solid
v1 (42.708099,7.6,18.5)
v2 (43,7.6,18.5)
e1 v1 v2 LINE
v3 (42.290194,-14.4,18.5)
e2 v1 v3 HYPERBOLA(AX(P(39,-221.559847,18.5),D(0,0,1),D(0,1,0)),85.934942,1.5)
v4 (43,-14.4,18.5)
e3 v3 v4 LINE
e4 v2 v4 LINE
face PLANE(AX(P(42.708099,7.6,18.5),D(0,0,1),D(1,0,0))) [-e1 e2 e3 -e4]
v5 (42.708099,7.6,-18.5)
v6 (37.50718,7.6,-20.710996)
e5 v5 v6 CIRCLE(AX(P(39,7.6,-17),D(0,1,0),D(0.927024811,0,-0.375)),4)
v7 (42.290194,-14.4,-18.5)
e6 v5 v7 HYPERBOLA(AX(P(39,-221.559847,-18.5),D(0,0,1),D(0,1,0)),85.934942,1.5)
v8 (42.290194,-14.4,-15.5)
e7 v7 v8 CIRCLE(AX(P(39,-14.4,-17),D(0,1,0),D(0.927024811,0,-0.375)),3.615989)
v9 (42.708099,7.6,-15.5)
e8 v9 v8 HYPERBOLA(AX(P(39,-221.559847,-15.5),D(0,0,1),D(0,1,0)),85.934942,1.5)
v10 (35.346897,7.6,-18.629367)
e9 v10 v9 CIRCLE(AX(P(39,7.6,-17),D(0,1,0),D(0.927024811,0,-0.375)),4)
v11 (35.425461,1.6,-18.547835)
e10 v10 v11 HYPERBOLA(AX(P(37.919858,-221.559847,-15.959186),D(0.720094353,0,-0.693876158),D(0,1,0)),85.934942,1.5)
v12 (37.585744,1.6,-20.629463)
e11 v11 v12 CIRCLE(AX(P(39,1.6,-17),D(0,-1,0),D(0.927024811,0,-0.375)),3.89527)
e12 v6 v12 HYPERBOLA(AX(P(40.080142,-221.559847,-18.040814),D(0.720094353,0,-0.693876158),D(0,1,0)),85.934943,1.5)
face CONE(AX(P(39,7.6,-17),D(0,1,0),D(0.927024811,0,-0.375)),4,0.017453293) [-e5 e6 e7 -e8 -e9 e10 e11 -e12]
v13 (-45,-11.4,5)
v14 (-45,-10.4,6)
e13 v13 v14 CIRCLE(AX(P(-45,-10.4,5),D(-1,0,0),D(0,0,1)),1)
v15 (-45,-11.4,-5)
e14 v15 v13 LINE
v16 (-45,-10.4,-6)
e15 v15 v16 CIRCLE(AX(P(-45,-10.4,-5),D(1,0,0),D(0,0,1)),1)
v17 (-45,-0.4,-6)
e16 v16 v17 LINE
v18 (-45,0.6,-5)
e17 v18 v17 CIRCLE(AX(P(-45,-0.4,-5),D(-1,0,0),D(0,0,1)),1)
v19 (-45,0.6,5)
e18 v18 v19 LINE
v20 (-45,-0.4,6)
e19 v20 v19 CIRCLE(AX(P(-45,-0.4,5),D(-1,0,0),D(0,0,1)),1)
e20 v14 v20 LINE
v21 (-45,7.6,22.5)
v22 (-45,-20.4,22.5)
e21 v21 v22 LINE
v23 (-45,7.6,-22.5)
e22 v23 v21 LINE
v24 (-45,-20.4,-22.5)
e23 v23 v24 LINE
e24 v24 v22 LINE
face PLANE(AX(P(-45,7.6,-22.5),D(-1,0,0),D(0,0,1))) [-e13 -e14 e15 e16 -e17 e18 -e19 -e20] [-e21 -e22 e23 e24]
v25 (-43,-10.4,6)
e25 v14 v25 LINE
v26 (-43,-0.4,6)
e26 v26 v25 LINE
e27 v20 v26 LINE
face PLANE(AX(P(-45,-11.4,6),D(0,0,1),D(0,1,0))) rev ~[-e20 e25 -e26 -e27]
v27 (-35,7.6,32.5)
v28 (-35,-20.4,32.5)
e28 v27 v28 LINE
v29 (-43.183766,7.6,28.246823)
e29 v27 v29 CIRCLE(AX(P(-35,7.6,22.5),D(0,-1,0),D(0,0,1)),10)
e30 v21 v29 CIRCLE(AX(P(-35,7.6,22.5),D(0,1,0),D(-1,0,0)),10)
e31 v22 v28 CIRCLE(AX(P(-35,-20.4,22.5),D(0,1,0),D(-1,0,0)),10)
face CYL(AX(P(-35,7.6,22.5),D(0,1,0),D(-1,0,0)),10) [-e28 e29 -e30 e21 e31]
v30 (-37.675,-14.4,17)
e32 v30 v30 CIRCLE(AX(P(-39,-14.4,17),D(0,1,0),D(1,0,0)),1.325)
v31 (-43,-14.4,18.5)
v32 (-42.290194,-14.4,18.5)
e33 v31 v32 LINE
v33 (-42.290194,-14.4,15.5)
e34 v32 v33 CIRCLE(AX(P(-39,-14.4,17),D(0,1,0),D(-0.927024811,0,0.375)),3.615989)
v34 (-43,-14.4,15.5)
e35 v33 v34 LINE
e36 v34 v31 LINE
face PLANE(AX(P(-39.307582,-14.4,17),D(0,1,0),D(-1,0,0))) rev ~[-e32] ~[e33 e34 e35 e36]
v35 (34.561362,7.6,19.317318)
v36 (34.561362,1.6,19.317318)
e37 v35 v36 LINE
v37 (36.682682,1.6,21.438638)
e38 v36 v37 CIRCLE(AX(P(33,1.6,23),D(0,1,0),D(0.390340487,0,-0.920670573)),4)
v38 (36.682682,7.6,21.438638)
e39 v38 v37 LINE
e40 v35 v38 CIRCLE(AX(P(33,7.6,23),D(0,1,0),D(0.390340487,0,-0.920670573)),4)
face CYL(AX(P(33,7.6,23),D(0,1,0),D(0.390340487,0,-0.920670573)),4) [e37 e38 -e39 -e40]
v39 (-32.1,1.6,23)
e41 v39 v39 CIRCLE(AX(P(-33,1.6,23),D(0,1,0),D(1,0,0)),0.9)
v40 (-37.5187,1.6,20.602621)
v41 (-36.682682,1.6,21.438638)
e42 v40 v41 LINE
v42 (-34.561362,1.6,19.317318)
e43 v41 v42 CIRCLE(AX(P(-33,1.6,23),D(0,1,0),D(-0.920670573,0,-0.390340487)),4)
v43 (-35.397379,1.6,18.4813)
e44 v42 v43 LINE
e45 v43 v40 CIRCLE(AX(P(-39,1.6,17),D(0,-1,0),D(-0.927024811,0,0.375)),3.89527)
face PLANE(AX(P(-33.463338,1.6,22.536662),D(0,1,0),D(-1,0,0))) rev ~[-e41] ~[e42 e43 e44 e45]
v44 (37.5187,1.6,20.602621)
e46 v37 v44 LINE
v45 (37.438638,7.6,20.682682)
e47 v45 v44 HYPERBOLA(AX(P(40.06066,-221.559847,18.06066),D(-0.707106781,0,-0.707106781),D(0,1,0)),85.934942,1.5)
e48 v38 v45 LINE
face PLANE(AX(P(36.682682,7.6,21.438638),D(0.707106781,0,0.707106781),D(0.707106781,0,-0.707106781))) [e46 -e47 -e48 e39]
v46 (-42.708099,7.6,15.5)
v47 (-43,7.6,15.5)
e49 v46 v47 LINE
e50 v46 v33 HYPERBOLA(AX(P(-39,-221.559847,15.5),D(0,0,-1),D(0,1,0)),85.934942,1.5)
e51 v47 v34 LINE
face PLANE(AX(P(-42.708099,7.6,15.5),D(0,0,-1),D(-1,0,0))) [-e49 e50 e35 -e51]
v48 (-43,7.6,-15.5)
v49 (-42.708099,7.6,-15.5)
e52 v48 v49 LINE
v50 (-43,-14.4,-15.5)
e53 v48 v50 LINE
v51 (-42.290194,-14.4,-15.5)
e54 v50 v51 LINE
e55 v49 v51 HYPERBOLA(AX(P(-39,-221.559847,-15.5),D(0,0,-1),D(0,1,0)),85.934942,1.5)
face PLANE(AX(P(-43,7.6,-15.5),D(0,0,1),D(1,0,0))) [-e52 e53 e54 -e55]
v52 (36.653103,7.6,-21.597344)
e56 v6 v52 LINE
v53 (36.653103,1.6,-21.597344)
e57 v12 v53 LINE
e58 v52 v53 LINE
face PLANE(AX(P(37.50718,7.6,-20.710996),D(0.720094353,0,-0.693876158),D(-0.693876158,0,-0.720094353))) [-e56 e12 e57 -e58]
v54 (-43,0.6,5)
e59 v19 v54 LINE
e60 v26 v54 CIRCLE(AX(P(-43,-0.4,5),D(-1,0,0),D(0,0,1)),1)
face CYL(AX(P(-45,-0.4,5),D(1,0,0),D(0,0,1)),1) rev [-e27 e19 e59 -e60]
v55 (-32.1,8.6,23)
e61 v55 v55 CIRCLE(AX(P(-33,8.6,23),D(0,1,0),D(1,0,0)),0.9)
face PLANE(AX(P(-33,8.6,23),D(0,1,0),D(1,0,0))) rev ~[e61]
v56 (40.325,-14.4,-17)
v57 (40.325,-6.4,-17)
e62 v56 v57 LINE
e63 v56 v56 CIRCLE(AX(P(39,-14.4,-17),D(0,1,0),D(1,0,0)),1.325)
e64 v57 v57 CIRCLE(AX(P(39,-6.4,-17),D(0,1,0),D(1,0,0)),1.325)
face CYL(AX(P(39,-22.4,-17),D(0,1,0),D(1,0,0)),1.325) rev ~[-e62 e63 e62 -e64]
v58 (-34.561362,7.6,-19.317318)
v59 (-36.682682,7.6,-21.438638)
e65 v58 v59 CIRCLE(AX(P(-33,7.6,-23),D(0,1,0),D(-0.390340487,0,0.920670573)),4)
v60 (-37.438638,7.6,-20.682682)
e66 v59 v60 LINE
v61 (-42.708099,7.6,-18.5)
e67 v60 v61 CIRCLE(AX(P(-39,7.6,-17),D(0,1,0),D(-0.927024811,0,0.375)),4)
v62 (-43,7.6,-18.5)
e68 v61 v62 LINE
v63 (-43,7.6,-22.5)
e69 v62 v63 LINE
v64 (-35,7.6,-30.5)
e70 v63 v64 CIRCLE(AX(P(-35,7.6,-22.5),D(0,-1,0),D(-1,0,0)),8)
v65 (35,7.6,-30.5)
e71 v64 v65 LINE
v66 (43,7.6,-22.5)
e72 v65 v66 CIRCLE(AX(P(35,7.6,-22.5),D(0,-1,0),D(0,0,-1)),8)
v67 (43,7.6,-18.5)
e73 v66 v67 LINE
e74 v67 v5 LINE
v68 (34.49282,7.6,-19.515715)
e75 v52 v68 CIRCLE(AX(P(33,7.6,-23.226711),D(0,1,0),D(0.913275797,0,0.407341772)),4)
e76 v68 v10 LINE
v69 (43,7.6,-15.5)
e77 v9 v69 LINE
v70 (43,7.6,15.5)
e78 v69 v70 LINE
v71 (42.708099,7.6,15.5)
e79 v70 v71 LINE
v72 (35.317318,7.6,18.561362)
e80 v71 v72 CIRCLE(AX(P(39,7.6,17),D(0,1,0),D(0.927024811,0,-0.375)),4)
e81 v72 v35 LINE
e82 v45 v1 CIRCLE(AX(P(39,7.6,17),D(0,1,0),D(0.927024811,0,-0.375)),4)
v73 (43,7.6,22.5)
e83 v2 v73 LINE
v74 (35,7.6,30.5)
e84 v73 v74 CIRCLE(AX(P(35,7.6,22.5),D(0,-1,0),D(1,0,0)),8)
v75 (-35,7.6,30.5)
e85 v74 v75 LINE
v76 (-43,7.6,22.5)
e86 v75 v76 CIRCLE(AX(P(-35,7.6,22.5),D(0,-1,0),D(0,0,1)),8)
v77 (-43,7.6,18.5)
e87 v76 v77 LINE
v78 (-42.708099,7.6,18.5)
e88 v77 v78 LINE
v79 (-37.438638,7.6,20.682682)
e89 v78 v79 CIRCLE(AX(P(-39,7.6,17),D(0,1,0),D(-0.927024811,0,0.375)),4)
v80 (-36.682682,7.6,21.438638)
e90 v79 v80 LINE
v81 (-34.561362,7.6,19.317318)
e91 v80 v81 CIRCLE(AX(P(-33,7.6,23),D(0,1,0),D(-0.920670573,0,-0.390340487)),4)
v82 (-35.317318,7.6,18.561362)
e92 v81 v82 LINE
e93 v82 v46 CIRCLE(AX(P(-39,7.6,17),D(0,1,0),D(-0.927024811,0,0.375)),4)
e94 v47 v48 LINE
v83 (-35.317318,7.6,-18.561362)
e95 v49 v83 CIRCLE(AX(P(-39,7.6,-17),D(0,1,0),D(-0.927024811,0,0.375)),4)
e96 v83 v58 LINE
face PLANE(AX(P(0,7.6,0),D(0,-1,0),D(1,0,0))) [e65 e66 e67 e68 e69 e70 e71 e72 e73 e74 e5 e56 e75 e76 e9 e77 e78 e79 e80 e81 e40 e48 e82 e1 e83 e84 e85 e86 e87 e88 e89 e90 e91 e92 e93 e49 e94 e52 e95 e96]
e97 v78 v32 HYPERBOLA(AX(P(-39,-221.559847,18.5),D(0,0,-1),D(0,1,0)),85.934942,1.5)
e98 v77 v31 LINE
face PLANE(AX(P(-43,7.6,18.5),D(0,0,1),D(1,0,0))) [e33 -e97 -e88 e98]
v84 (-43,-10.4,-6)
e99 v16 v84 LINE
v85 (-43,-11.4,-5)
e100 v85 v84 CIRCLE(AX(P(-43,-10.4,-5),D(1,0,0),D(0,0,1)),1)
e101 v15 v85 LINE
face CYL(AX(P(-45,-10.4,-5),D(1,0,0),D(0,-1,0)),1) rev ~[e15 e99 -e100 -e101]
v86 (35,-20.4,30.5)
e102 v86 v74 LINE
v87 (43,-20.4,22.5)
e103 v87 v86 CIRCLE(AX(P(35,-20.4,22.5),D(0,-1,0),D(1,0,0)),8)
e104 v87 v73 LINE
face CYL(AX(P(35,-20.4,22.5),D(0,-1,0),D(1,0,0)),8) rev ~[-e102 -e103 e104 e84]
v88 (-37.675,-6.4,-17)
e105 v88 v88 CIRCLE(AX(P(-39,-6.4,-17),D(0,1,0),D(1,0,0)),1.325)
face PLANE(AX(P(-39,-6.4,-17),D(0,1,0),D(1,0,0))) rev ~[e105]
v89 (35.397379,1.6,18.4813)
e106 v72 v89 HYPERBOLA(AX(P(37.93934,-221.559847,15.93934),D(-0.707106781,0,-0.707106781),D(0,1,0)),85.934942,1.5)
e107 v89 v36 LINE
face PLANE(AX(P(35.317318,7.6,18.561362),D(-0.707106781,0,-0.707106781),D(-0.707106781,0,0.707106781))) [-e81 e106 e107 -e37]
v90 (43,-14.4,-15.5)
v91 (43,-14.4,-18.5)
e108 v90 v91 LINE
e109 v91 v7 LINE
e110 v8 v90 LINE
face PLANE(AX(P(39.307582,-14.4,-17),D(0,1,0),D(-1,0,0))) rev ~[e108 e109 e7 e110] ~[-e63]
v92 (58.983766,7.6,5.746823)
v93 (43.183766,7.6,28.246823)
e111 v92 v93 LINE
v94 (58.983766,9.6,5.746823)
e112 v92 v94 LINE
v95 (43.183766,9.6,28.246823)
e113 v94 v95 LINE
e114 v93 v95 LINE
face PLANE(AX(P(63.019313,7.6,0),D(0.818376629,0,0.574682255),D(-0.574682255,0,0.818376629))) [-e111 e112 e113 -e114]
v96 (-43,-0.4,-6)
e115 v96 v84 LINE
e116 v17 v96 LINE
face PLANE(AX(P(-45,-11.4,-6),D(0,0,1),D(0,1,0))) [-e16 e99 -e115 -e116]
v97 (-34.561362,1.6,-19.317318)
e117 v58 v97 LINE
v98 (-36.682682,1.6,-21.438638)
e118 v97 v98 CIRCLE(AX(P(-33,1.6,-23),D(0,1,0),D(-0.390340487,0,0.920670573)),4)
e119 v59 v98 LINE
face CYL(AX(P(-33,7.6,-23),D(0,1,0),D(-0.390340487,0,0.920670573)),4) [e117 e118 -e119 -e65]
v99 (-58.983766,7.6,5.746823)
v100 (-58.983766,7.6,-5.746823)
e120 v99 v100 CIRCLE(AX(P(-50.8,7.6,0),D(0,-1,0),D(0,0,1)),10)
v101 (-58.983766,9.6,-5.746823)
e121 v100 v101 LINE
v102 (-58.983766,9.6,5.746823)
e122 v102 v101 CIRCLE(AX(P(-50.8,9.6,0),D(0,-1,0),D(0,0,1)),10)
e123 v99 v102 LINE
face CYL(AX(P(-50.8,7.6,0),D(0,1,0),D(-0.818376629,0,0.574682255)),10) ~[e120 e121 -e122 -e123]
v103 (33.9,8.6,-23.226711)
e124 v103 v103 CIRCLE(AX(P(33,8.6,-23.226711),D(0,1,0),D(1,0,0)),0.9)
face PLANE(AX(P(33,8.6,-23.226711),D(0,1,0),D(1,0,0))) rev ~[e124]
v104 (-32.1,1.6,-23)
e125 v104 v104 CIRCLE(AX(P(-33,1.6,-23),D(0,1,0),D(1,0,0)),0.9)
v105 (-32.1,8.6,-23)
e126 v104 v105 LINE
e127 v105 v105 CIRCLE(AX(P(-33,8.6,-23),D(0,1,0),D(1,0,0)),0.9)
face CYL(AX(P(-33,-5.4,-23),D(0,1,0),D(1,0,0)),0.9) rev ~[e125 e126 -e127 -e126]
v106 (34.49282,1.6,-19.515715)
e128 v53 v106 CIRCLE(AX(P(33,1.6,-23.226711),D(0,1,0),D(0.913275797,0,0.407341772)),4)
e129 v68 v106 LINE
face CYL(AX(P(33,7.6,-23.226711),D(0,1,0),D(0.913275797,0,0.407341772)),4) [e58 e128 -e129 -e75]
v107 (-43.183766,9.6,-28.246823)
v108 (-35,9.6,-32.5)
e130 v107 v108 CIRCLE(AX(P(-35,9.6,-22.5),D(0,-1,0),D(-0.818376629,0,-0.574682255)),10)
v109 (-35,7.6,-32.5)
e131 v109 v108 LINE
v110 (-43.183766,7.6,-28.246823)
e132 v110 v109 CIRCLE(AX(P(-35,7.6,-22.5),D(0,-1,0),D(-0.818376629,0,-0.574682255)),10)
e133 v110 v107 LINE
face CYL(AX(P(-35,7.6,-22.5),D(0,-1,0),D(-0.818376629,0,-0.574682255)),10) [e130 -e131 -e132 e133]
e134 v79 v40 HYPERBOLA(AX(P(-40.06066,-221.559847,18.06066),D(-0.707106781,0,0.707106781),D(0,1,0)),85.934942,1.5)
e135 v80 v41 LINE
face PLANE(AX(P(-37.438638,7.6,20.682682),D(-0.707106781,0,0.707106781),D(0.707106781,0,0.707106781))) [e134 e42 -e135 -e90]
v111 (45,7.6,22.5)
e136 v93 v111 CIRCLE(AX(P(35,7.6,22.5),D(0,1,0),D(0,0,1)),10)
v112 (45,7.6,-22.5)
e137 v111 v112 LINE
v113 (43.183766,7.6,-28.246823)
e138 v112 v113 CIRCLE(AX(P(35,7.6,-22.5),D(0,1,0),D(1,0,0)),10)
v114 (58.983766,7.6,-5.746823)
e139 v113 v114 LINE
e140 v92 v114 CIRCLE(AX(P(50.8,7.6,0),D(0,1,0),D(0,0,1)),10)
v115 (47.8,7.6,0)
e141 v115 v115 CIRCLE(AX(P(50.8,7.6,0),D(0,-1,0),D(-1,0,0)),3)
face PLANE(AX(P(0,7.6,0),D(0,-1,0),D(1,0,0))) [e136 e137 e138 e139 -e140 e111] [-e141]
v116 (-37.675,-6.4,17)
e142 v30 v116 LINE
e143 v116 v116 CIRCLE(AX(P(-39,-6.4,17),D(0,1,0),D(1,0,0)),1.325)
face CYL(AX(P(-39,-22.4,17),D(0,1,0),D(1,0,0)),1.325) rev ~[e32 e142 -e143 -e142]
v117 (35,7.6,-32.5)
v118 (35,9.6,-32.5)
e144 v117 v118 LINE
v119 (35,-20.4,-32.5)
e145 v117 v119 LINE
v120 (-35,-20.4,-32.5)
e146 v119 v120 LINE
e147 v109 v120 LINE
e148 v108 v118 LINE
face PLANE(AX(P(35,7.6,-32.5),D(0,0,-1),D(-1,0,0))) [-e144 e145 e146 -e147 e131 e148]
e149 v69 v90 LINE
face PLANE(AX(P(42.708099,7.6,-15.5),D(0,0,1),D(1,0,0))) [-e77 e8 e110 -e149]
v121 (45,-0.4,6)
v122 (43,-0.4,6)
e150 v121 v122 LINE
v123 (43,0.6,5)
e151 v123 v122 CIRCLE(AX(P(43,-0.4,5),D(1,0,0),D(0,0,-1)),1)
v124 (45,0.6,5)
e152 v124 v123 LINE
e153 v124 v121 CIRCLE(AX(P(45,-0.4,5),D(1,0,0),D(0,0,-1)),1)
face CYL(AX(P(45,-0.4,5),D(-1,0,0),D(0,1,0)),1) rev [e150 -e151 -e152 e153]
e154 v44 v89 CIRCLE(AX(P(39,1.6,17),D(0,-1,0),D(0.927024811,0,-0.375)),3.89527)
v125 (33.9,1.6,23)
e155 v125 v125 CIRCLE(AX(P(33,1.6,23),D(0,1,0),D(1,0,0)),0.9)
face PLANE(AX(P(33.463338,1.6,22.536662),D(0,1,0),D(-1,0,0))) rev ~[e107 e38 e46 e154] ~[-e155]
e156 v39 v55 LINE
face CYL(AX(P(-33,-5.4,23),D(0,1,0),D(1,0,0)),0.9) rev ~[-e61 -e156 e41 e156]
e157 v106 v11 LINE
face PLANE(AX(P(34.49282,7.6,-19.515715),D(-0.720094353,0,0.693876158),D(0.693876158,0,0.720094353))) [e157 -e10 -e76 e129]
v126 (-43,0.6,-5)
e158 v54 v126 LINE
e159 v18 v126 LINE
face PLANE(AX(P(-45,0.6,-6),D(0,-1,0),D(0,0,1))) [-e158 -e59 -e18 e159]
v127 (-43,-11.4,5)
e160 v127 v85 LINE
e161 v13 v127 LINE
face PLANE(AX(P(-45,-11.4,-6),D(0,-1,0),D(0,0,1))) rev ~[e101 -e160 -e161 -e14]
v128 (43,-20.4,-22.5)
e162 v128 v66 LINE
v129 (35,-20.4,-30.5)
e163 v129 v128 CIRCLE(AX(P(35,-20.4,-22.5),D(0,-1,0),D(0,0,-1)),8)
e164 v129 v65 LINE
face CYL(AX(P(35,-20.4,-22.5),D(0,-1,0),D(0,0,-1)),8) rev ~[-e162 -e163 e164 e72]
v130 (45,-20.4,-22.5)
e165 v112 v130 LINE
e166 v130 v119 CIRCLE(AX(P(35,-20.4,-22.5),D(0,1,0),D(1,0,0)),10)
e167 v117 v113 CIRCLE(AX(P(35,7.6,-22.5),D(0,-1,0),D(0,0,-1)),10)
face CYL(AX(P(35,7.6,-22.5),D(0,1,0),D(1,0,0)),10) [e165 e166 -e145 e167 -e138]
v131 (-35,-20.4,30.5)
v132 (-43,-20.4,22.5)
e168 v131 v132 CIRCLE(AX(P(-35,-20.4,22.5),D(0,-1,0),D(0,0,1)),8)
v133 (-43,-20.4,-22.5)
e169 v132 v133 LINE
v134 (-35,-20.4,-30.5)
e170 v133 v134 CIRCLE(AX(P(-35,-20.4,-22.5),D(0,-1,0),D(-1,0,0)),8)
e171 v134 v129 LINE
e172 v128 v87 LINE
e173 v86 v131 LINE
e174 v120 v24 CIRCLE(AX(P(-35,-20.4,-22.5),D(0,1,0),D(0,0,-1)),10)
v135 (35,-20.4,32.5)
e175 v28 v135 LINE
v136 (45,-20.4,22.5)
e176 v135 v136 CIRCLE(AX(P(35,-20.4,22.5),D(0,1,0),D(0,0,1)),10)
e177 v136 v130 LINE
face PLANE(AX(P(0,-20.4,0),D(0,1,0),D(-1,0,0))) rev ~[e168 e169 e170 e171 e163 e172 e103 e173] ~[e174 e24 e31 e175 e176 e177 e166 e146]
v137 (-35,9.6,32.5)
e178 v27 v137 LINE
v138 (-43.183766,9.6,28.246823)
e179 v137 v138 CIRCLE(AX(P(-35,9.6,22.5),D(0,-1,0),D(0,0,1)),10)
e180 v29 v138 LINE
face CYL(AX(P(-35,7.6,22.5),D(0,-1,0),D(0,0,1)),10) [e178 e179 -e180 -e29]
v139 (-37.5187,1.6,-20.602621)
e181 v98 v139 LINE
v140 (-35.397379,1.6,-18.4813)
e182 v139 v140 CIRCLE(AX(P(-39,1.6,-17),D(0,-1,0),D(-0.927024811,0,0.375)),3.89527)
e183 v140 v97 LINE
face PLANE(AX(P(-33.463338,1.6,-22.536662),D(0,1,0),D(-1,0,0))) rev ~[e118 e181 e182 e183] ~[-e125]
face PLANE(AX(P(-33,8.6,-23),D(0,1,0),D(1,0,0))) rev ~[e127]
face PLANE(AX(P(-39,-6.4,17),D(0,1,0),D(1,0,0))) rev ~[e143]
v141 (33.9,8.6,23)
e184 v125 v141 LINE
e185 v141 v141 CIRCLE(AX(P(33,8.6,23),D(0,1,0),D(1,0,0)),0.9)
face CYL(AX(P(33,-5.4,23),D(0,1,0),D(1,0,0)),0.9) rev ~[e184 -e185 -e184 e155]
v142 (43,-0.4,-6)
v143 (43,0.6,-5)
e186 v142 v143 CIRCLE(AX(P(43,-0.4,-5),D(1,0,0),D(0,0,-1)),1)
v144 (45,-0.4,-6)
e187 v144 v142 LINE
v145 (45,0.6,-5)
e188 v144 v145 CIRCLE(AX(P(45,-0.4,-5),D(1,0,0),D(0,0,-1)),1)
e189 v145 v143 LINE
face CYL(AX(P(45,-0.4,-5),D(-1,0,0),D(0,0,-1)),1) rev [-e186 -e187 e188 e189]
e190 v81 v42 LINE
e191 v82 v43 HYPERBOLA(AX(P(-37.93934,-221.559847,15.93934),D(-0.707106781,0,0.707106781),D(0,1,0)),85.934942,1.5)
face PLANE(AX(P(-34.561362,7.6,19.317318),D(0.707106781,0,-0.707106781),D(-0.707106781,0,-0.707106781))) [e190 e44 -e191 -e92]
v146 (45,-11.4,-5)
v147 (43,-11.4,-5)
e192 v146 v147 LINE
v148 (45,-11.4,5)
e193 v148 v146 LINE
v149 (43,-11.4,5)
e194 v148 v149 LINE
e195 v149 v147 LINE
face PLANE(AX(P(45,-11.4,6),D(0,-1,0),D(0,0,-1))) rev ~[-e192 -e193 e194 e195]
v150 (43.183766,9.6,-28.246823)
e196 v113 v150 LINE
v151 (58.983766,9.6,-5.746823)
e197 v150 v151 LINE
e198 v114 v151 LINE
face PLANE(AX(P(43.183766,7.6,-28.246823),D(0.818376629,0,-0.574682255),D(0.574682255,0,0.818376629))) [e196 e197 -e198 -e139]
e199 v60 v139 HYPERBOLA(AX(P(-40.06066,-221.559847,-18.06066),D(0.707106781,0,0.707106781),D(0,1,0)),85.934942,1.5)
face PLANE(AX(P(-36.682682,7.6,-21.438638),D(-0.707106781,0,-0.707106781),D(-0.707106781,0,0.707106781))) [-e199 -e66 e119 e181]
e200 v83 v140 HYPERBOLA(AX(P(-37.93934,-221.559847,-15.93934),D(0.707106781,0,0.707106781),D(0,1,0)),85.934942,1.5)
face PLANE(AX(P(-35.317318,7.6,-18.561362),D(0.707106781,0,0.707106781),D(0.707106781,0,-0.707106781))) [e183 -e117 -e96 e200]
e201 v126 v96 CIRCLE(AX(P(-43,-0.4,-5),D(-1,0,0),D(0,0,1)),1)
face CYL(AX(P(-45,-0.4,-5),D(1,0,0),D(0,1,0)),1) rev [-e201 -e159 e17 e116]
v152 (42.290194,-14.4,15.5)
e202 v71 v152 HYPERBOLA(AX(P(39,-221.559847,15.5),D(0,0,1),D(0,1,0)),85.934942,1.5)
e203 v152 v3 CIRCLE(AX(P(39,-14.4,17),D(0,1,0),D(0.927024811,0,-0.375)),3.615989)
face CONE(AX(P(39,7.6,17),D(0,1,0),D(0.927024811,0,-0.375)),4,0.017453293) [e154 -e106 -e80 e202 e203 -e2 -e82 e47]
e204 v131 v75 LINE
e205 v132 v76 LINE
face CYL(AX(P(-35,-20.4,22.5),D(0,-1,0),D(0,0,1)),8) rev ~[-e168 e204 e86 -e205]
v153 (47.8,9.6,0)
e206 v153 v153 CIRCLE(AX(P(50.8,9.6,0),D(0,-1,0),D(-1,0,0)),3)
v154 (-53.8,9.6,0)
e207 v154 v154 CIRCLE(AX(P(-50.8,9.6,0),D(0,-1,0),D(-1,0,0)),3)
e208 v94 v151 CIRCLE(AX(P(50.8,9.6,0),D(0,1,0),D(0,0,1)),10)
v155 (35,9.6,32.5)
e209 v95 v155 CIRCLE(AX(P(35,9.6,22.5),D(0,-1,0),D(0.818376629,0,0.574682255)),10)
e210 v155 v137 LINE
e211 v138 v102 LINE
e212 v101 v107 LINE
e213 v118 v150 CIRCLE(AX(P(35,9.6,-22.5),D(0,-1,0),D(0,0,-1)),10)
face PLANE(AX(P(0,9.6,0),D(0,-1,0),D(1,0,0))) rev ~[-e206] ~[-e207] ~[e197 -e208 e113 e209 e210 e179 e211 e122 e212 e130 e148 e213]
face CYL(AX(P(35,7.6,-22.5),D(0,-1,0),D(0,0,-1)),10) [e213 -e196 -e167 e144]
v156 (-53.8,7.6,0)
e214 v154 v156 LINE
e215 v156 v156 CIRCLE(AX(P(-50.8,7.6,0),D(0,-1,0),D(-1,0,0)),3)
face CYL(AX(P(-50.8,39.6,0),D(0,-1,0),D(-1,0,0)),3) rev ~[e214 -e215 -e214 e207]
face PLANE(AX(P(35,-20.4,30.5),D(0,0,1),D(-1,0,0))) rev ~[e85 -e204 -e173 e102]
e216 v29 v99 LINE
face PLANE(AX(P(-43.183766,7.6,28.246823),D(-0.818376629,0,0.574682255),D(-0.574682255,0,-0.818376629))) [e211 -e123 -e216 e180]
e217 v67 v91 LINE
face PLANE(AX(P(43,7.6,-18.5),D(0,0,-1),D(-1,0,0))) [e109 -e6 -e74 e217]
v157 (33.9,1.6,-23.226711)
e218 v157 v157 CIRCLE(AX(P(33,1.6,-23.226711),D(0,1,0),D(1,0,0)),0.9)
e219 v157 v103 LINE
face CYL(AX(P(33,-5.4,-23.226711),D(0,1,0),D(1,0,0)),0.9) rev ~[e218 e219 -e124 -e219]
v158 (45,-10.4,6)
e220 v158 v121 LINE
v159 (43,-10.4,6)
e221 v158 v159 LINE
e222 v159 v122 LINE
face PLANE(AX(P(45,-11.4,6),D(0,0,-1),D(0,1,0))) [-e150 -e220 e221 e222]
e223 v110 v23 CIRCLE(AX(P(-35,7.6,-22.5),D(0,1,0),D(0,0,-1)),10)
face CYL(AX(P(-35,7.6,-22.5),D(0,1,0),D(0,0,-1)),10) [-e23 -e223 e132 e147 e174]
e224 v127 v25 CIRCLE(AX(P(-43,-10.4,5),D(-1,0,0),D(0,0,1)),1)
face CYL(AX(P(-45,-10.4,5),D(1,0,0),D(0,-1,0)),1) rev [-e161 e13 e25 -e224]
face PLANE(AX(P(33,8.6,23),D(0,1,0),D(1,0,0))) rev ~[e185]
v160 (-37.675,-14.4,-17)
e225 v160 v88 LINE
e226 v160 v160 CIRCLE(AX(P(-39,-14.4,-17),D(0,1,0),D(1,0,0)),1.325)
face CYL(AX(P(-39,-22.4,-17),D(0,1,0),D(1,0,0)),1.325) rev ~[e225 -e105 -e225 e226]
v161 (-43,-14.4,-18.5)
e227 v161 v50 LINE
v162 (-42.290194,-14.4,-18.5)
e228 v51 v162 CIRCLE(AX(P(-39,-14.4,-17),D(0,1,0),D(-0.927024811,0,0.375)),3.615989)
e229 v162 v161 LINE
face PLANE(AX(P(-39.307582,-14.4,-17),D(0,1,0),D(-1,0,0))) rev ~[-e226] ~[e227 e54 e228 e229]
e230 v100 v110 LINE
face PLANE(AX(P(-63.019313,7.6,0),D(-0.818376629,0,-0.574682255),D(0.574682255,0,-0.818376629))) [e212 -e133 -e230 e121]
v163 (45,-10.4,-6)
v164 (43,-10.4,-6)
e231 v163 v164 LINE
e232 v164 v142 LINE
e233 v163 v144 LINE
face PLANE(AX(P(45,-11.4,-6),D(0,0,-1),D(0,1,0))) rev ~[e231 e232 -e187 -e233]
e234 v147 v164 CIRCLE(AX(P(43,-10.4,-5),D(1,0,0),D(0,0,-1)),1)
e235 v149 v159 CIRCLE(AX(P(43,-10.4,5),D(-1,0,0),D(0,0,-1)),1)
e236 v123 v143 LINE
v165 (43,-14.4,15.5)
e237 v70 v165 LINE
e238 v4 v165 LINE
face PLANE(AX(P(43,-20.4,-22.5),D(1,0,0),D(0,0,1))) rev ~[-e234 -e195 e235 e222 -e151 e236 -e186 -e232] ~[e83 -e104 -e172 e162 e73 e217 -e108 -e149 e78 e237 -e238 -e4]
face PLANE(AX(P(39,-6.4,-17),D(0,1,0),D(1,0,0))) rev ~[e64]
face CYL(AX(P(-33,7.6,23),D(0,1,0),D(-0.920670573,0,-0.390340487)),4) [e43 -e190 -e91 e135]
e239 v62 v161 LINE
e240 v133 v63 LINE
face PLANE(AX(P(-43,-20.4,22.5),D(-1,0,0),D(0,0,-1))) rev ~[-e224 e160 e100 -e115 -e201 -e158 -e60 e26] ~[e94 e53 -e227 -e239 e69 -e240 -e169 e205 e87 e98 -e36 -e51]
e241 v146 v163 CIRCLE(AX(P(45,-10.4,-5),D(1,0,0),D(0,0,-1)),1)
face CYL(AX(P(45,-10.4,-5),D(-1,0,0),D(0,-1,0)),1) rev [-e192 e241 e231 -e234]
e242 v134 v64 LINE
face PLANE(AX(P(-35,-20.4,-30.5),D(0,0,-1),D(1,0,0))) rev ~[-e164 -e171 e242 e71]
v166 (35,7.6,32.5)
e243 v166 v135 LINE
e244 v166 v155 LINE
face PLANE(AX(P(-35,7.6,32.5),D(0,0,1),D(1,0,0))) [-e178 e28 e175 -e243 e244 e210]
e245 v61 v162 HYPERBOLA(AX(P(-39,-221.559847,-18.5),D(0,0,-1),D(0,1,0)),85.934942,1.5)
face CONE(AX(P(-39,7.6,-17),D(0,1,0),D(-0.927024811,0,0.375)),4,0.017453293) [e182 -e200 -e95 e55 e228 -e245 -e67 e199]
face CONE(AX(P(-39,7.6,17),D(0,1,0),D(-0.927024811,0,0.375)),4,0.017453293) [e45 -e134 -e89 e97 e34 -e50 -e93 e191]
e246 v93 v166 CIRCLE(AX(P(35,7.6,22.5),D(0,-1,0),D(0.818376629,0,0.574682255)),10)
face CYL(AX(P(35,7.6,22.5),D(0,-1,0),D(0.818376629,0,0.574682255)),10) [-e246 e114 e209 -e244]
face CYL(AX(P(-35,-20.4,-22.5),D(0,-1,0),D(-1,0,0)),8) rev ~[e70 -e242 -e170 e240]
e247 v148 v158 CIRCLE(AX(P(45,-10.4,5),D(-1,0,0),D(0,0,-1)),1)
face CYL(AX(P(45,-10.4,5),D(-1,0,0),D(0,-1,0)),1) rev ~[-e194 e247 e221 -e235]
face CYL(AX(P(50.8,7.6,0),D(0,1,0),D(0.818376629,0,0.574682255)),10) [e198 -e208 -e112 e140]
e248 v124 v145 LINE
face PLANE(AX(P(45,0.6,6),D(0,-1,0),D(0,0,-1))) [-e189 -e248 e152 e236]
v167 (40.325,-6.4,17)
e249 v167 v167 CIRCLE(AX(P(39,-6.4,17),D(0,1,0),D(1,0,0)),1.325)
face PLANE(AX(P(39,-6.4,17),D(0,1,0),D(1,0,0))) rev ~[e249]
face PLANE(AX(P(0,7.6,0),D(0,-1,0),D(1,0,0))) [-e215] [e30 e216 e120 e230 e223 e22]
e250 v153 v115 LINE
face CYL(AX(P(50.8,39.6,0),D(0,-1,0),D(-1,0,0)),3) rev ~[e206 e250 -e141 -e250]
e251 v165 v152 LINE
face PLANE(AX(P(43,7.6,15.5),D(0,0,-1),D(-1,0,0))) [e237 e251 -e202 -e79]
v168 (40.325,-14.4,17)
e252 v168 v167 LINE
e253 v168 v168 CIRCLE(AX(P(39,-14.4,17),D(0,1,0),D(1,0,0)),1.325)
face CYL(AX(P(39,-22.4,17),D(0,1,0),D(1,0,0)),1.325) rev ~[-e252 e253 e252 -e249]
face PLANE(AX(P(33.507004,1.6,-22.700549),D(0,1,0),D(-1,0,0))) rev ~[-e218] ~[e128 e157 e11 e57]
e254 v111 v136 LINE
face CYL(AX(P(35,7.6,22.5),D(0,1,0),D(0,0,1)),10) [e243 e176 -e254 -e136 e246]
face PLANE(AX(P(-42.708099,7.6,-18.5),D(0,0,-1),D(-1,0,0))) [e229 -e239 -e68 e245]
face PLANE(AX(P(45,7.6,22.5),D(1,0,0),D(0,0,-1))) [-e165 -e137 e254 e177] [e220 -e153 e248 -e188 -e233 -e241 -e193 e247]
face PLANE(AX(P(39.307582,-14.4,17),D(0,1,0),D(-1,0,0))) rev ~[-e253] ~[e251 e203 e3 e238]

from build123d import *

# Parameters (mm, degrees)
BOSS_EXTRU_1_DEPTH                  = 2
BOSS_EXTRU_2_DEPTH                  = 28
ENL_V_MAT_EXTRU_1_DEPTH             = 28
BOSS_EXTRU_3_DEPTH                  = 22
BOSS_EXTRU_4_DEPTH                  = 6
BOSS_EXTRU_5_DEPTH                  = 22
BOSS_EXTRU_6_DEPTH                  = 6
BOSS_EXTRU_7_DEPTH                  = 22
BOSS_EXTRU_8_DEPTH                  = 6
BOSS_EXTRU_9_DEPTH                  = 22
BOSS_EXTRU_10_DEPTH                 = 6
ENL_V_MAT_EXTRU_2_REACH             = 116.632
ESQUISSE12_W                        = 12
ESQUISSE12_H                        = 12
ESQUISSE13_W                        = 12
ESQUISSE13_H                        = 12
ENL_V_MAT_EXTRU_3_DEPTH             = 115.63237734
D_POUILLE1_ANGLE                    = 1
DIAM_TRE_DU_PER_AGE_6_0_6_1_D       = 6
DIAM_TRE_DU_PER_AGE_6_0_6_1_DEPTH   = 30
DIAM_TRE_DU_PER_AGE_1_8_1_8_1_D     = 1.8
DIAM_TRE_DU_PER_AGE_1_8_1_8_1_DEPTH = 7
PER_AGE1_D                          = 2.65
PER_AGE1_DEPTH                      = 8
CONG_1_R                            = 1
CONG_2_R                            = 10


with BuildPart() as part:
    # Esquisse1 → Boss.-Extru.1 (new body)
    with BuildSketch(Plane.XZ.offset(-7.6)):
        with BuildLine():
            Line((63.019312785, 0), (43.183766285, 28.246822547))
            ThreePointArc((43.183766285, 28.246822547), (39.611495122, 31.373224484), (35, 32.5))
            Line((35, 32.5), (-35, 32.5))
            ThreePointArc((-35, 32.5), (-39.611495122, 31.373224484), (-43.183766285, 28.246822547))
            Line((-43.183766285, 28.246822547), (-63.019312785, 0))
            Line((-63.019312785, 0), (-43.183766285, -28.246822547))
            ThreePointArc((-43.183766285, -28.246822547), (-39.611495122, -31.373224484), (-35, -32.5))
            Line((-35, -32.5), (35, -32.5))
            ThreePointArc((35, -32.5), (39.611495122, -31.373224484), (43.183766285, -28.246822547))
            Line((43.183766285, -28.246822547), (63.019312785, 0))
        make_face()
    extrude(amount=-BOSS_EXTRU_1_DEPTH)

    # Esquisse2 → Boss.-Extru.2 (add)
    with BuildSketch(Plane.XZ.offset(-7.6)):
        with BuildLine():
            Line((-45, -22.5), (-45, 22.5))
            ThreePointArc((-45, 22.5), (-42.071067812, 29.571067812), (-35, 32.5))
            Line((-35, 32.5), (35, 32.5))
            ThreePointArc((35, 32.5), (42.071067812, 29.571067812), (45, 22.5))
            Line((45, 22.5), (45, -22.5))
            ThreePointArc((45, -22.5), (42.071067812, -29.571067812), (35, -32.5))
            Line((35, -32.5), (-35, -32.5))
            ThreePointArc((-35, -32.5), (-42.071067812, -29.571067812), (-45, -22.5))
        make_face()
    extrude(amount=BOSS_EXTRU_2_DEPTH)

    # Esquisse3 → Enlèv. mat.-Extru.1 (cut)
    with BuildSketch(Plane.XZ.offset(20.4)):
        with BuildLine():
            Line((43, -22.5), (43, 22.5))
            ThreePointArc((43, 22.5), (40.656854249, 28.156854249), (35, 30.5))
            Line((35, 30.5), (-35, 30.5))
            ThreePointArc((-35, 30.5), (-40.656854249, 28.156854249), (-43, 22.5))
            Line((-43, 22.5), (-43, -22.5))
            ThreePointArc((-43, -22.5), (-40.656854249, -28.156854249), (-35, -30.5))
            Line((-35, -30.5), (35, -30.5))
            ThreePointArc((35, -30.5), (40.656854249, -28.156854249), (43, -22.5))
        make_face()
    extrude(amount=-ENL_V_MAT_EXTRU_1_DEPTH, mode=Mode.SUBTRACT)

    # Esquisse4 → Boss.-Extru.3 (add)
    with BuildSketch(Plane.XZ.offset(-7.6)):
        with BuildLine():
            Line((42.708099244, -15.5), (43, -15.5))
            Line((43, -15.5), (43, -18.5))
            Line((43, -18.5), (42.708099244, -18.5))
            ThreePointArc((42.708099244, -18.5), (35, -17), (42.708099244, -15.5))
        make_face()
    extrude(amount=BOSS_EXTRU_3_DEPTH)

    # Esquisse5 → Boss.-Extru.4 (add)
    with BuildSketch(Plane.XZ.offset(-7.6)):
        with BuildLine():
            Line((34.492820127, -19.515715167), (35.346896814, -18.629367089))
            ThreePointArc((35.346896814, -18.629367089), (36.224495368, -19.880377412), (37.507179873, -20.710995563))
            Line((37.507179873, -20.710995563), (36.653103186, -21.597343641))
            ThreePointArc((36.653103186, -21.597343641), (30.224495368, -26.107088143), (34.492820127, -19.515715167))
        make_face()
    extrude(amount=BOSS_EXTRU_4_DEPTH)

    # Esquisse6 → Boss.-Extru.5 (add)
    with BuildSketch(Plane.XZ.offset(-7.6)):
        with BuildLine():
            Line((-42.708099244, -18.5), (-43, -18.5))
            Line((-43, -18.5), (-43, -15.5))
            Line((-43, -15.5), (-42.708099244, -15.5))
            ThreePointArc((-42.708099244, -15.5), (-35, -17), (-42.708099244, -18.5))
        make_face()
    extrude(amount=BOSS_EXTRU_5_DEPTH)

    # Esquisse7 → Boss.-Extru.6 (add)
    with BuildSketch(Plane.XZ.offset(-7.6)):
        with BuildLine():
            Line((-36.682682292, -21.438638051), (-37.438638051, -20.682682292))
            ThreePointArc((-37.438638051, -20.682682292), (-36.171572875, -19.828427125), (-35.317317708, -18.561361949))
            Line((-35.317317708, -18.561361949), (-34.561361949, -19.317317708))
            ThreePointArc((-34.561361949, -19.317317708), (-30.171572875, -25.828427125), (-36.682682292, -21.438638051))
        make_face()
    extrude(amount=BOSS_EXTRU_6_DEPTH)

    # Esquisse8 → Boss.-Extru.7 (add)
    with BuildSketch(Plane.XZ.offset(-7.6)):
        with BuildLine():
            Line((42.708099244, 18.5), (43, 18.5))
            Line((43, 18.5), (43, 15.5))
            Line((43, 15.5), (42.708099244, 15.5))
            ThreePointArc((42.708099244, 15.5), (35, 17), (42.708099244, 18.5))
        make_face()
    extrude(amount=BOSS_EXTRU_7_DEPTH)

    # Esquisse9 → Boss.-Extru.8 (add)
    with BuildSketch(Plane.XZ.offset(-7.6)):
        with BuildLine():
            Line((36.682682292, 21.438638051), (37.438638051, 20.682682292))
            ThreePointArc((37.438638051, 20.682682292), (36.171572875, 19.828427125), (35.317317708, 18.561361949))
            Line((35.317317708, 18.561361949), (34.561361949, 19.317317708))
            ThreePointArc((34.561361949, 19.317317708), (30.171572875, 25.828427125), (36.682682292, 21.438638051))
        make_face()
    extrude(amount=BOSS_EXTRU_8_DEPTH)

    # Esquisse10 → Boss.-Extru.9 (add)
    with BuildSketch(Plane.XZ.offset(-7.6)):
        with BuildLine():
            Line((-42.708099244, 15.5), (-43, 15.5))
            Line((-43, 15.5), (-43, 18.5))
            Line((-43, 18.5), (-42.708099244, 18.5))
            ThreePointArc((-42.708099244, 18.5), (-35, 17), (-42.708099244, 15.5))
        make_face()
    extrude(amount=BOSS_EXTRU_9_DEPTH)

    # Esquisse11 → Boss.-Extru.10 (add)
    with BuildSketch(Plane.XZ.offset(-7.6)):
        with BuildLine():
            Line((-34.561361949, 19.317317708), (-35.317317708, 18.561361949))
            ThreePointArc((-35.317317708, 18.561361949), (-36.171572875, 19.828427125), (-37.438638051, 20.682682292))
            Line((-37.438638051, 20.682682292), (-36.682682292, 21.438638051))
            ThreePointArc((-36.682682292, 21.438638051), (-30.171572875, 25.828427125), (-34.561361949, 19.317317708))
        make_face()
    extrude(amount=BOSS_EXTRU_10_DEPTH)

    # Esquisse12 → Enlèv. mat.-Extru.2 (cut, up to next)
    with BuildSketch(Plane.ZY.offset(45), mode=Mode.PRIVATE) as enl_v_mat_extru_2_sk1:
        with Locations((0, -5.4)):
            Rectangle(ESQUISSE12_W, ESQUISSE12_H)
    enl_v_mat_extru_2_tool1 = extrude(enl_v_mat_extru_2_sk1.sketch, amount=-ENL_V_MAT_EXTRU_2_REACH, mode=Mode.PRIVATE) & part.part
    add(enl_v_mat_extru_2_tool1.solids().sort_by_distance((-45, -5.4, 0))[0], mode=Mode.SUBTRACT)

    # Esquisse13 → Enlèv. mat.-Extru.3 (cut, through all)
    with BuildSketch(Plane(origin=(45, 0, 0), x_dir=(0, 0, -1), z_dir=(1, 0, 0))):
        with Locations((0, -5.4)):
            Rectangle(ESQUISSE13_W, ESQUISSE13_H)
    extrude(amount=-ENL_V_MAT_EXTRU_3_DEPTH, mode=Mode.SUBTRACT)

    # Dépouille1
    d_pouille1_faces = [part.faces().sort_by_distance(p)[0] for p in [
        (-35, -3.4, 17),
        (35, -3.4, 17),
        (35, -3.4, -17),
        (-35, -3.4, -17),
    ]]
    draft(d_pouille1_faces, Plane(origin=(35, 7.6, -22.5), x_dir=(0, 0, -1), z_dir=(0, -1, 0)), D_POUILLE1_ANGLE)

    # Diamètre du perçage Ø6.0 (6)1
    with Locations(Plane(origin=(0, 9.6, 0), x_dir=(1, 0, 0), z_dir=(0, 1, 0))):
        with Locations((-50.8, 0), (50.8, 0)):
            Hole(DIAM_TRE_DU_PER_AGE_6_0_6_1_D / 2, depth=DIAM_TRE_DU_PER_AGE_6_0_6_1_DEPTH)

    # Diamètre du perçage Ø1.8 (1.8)1
    with Locations(Plane(origin=(0, 1.6, 0), x_dir=(-1, 0, 0), z_dir=(0, -1, 0))):
        with Locations((33, -23), (-33, -23), (-33, 23.22671073), (33, 23)):
            Hole(DIAM_TRE_DU_PER_AGE_1_8_1_8_1_D / 2, depth=DIAM_TRE_DU_PER_AGE_1_8_1_8_1_DEPTH)

    # Perçage1
    with Locations(Plane(origin=(0, -14.4, 0), x_dir=(-1, 0, 0), z_dir=(0, -1, 0))):
        with Locations((-39, 17), (-39, -17), (39, 17), (39, -17)):
            Hole(PER_AGE1_D / 2, depth=PER_AGE1_DEPTH)

    # Congé1
    cong_1_edges = [part.edges().sort_by_distance(p)[0] for p in [
        (-44, -11.4, -6),
        (-44, 0.6, -6),
        (-44, 0.6, 6),
        (-44, -11.4, 6),
        (44, -11.4, -6),
        (44, 0.6, 6),
        (44, 0.6, -6),
        (44, -11.4, 6),
    ]]
    fillet(cong_1_edges, radius=CONG_1_R)

    # Congé2
    cong_2_edges = [part.edges().sort_by_distance(p)[0] for p in [
        (-63.019312785, 8.6, 0),
        (63.019312785, 8.6, 0),
    ]]
    fillet(cong_2_edges, radius=CONG_2_R)


solid = part.part
